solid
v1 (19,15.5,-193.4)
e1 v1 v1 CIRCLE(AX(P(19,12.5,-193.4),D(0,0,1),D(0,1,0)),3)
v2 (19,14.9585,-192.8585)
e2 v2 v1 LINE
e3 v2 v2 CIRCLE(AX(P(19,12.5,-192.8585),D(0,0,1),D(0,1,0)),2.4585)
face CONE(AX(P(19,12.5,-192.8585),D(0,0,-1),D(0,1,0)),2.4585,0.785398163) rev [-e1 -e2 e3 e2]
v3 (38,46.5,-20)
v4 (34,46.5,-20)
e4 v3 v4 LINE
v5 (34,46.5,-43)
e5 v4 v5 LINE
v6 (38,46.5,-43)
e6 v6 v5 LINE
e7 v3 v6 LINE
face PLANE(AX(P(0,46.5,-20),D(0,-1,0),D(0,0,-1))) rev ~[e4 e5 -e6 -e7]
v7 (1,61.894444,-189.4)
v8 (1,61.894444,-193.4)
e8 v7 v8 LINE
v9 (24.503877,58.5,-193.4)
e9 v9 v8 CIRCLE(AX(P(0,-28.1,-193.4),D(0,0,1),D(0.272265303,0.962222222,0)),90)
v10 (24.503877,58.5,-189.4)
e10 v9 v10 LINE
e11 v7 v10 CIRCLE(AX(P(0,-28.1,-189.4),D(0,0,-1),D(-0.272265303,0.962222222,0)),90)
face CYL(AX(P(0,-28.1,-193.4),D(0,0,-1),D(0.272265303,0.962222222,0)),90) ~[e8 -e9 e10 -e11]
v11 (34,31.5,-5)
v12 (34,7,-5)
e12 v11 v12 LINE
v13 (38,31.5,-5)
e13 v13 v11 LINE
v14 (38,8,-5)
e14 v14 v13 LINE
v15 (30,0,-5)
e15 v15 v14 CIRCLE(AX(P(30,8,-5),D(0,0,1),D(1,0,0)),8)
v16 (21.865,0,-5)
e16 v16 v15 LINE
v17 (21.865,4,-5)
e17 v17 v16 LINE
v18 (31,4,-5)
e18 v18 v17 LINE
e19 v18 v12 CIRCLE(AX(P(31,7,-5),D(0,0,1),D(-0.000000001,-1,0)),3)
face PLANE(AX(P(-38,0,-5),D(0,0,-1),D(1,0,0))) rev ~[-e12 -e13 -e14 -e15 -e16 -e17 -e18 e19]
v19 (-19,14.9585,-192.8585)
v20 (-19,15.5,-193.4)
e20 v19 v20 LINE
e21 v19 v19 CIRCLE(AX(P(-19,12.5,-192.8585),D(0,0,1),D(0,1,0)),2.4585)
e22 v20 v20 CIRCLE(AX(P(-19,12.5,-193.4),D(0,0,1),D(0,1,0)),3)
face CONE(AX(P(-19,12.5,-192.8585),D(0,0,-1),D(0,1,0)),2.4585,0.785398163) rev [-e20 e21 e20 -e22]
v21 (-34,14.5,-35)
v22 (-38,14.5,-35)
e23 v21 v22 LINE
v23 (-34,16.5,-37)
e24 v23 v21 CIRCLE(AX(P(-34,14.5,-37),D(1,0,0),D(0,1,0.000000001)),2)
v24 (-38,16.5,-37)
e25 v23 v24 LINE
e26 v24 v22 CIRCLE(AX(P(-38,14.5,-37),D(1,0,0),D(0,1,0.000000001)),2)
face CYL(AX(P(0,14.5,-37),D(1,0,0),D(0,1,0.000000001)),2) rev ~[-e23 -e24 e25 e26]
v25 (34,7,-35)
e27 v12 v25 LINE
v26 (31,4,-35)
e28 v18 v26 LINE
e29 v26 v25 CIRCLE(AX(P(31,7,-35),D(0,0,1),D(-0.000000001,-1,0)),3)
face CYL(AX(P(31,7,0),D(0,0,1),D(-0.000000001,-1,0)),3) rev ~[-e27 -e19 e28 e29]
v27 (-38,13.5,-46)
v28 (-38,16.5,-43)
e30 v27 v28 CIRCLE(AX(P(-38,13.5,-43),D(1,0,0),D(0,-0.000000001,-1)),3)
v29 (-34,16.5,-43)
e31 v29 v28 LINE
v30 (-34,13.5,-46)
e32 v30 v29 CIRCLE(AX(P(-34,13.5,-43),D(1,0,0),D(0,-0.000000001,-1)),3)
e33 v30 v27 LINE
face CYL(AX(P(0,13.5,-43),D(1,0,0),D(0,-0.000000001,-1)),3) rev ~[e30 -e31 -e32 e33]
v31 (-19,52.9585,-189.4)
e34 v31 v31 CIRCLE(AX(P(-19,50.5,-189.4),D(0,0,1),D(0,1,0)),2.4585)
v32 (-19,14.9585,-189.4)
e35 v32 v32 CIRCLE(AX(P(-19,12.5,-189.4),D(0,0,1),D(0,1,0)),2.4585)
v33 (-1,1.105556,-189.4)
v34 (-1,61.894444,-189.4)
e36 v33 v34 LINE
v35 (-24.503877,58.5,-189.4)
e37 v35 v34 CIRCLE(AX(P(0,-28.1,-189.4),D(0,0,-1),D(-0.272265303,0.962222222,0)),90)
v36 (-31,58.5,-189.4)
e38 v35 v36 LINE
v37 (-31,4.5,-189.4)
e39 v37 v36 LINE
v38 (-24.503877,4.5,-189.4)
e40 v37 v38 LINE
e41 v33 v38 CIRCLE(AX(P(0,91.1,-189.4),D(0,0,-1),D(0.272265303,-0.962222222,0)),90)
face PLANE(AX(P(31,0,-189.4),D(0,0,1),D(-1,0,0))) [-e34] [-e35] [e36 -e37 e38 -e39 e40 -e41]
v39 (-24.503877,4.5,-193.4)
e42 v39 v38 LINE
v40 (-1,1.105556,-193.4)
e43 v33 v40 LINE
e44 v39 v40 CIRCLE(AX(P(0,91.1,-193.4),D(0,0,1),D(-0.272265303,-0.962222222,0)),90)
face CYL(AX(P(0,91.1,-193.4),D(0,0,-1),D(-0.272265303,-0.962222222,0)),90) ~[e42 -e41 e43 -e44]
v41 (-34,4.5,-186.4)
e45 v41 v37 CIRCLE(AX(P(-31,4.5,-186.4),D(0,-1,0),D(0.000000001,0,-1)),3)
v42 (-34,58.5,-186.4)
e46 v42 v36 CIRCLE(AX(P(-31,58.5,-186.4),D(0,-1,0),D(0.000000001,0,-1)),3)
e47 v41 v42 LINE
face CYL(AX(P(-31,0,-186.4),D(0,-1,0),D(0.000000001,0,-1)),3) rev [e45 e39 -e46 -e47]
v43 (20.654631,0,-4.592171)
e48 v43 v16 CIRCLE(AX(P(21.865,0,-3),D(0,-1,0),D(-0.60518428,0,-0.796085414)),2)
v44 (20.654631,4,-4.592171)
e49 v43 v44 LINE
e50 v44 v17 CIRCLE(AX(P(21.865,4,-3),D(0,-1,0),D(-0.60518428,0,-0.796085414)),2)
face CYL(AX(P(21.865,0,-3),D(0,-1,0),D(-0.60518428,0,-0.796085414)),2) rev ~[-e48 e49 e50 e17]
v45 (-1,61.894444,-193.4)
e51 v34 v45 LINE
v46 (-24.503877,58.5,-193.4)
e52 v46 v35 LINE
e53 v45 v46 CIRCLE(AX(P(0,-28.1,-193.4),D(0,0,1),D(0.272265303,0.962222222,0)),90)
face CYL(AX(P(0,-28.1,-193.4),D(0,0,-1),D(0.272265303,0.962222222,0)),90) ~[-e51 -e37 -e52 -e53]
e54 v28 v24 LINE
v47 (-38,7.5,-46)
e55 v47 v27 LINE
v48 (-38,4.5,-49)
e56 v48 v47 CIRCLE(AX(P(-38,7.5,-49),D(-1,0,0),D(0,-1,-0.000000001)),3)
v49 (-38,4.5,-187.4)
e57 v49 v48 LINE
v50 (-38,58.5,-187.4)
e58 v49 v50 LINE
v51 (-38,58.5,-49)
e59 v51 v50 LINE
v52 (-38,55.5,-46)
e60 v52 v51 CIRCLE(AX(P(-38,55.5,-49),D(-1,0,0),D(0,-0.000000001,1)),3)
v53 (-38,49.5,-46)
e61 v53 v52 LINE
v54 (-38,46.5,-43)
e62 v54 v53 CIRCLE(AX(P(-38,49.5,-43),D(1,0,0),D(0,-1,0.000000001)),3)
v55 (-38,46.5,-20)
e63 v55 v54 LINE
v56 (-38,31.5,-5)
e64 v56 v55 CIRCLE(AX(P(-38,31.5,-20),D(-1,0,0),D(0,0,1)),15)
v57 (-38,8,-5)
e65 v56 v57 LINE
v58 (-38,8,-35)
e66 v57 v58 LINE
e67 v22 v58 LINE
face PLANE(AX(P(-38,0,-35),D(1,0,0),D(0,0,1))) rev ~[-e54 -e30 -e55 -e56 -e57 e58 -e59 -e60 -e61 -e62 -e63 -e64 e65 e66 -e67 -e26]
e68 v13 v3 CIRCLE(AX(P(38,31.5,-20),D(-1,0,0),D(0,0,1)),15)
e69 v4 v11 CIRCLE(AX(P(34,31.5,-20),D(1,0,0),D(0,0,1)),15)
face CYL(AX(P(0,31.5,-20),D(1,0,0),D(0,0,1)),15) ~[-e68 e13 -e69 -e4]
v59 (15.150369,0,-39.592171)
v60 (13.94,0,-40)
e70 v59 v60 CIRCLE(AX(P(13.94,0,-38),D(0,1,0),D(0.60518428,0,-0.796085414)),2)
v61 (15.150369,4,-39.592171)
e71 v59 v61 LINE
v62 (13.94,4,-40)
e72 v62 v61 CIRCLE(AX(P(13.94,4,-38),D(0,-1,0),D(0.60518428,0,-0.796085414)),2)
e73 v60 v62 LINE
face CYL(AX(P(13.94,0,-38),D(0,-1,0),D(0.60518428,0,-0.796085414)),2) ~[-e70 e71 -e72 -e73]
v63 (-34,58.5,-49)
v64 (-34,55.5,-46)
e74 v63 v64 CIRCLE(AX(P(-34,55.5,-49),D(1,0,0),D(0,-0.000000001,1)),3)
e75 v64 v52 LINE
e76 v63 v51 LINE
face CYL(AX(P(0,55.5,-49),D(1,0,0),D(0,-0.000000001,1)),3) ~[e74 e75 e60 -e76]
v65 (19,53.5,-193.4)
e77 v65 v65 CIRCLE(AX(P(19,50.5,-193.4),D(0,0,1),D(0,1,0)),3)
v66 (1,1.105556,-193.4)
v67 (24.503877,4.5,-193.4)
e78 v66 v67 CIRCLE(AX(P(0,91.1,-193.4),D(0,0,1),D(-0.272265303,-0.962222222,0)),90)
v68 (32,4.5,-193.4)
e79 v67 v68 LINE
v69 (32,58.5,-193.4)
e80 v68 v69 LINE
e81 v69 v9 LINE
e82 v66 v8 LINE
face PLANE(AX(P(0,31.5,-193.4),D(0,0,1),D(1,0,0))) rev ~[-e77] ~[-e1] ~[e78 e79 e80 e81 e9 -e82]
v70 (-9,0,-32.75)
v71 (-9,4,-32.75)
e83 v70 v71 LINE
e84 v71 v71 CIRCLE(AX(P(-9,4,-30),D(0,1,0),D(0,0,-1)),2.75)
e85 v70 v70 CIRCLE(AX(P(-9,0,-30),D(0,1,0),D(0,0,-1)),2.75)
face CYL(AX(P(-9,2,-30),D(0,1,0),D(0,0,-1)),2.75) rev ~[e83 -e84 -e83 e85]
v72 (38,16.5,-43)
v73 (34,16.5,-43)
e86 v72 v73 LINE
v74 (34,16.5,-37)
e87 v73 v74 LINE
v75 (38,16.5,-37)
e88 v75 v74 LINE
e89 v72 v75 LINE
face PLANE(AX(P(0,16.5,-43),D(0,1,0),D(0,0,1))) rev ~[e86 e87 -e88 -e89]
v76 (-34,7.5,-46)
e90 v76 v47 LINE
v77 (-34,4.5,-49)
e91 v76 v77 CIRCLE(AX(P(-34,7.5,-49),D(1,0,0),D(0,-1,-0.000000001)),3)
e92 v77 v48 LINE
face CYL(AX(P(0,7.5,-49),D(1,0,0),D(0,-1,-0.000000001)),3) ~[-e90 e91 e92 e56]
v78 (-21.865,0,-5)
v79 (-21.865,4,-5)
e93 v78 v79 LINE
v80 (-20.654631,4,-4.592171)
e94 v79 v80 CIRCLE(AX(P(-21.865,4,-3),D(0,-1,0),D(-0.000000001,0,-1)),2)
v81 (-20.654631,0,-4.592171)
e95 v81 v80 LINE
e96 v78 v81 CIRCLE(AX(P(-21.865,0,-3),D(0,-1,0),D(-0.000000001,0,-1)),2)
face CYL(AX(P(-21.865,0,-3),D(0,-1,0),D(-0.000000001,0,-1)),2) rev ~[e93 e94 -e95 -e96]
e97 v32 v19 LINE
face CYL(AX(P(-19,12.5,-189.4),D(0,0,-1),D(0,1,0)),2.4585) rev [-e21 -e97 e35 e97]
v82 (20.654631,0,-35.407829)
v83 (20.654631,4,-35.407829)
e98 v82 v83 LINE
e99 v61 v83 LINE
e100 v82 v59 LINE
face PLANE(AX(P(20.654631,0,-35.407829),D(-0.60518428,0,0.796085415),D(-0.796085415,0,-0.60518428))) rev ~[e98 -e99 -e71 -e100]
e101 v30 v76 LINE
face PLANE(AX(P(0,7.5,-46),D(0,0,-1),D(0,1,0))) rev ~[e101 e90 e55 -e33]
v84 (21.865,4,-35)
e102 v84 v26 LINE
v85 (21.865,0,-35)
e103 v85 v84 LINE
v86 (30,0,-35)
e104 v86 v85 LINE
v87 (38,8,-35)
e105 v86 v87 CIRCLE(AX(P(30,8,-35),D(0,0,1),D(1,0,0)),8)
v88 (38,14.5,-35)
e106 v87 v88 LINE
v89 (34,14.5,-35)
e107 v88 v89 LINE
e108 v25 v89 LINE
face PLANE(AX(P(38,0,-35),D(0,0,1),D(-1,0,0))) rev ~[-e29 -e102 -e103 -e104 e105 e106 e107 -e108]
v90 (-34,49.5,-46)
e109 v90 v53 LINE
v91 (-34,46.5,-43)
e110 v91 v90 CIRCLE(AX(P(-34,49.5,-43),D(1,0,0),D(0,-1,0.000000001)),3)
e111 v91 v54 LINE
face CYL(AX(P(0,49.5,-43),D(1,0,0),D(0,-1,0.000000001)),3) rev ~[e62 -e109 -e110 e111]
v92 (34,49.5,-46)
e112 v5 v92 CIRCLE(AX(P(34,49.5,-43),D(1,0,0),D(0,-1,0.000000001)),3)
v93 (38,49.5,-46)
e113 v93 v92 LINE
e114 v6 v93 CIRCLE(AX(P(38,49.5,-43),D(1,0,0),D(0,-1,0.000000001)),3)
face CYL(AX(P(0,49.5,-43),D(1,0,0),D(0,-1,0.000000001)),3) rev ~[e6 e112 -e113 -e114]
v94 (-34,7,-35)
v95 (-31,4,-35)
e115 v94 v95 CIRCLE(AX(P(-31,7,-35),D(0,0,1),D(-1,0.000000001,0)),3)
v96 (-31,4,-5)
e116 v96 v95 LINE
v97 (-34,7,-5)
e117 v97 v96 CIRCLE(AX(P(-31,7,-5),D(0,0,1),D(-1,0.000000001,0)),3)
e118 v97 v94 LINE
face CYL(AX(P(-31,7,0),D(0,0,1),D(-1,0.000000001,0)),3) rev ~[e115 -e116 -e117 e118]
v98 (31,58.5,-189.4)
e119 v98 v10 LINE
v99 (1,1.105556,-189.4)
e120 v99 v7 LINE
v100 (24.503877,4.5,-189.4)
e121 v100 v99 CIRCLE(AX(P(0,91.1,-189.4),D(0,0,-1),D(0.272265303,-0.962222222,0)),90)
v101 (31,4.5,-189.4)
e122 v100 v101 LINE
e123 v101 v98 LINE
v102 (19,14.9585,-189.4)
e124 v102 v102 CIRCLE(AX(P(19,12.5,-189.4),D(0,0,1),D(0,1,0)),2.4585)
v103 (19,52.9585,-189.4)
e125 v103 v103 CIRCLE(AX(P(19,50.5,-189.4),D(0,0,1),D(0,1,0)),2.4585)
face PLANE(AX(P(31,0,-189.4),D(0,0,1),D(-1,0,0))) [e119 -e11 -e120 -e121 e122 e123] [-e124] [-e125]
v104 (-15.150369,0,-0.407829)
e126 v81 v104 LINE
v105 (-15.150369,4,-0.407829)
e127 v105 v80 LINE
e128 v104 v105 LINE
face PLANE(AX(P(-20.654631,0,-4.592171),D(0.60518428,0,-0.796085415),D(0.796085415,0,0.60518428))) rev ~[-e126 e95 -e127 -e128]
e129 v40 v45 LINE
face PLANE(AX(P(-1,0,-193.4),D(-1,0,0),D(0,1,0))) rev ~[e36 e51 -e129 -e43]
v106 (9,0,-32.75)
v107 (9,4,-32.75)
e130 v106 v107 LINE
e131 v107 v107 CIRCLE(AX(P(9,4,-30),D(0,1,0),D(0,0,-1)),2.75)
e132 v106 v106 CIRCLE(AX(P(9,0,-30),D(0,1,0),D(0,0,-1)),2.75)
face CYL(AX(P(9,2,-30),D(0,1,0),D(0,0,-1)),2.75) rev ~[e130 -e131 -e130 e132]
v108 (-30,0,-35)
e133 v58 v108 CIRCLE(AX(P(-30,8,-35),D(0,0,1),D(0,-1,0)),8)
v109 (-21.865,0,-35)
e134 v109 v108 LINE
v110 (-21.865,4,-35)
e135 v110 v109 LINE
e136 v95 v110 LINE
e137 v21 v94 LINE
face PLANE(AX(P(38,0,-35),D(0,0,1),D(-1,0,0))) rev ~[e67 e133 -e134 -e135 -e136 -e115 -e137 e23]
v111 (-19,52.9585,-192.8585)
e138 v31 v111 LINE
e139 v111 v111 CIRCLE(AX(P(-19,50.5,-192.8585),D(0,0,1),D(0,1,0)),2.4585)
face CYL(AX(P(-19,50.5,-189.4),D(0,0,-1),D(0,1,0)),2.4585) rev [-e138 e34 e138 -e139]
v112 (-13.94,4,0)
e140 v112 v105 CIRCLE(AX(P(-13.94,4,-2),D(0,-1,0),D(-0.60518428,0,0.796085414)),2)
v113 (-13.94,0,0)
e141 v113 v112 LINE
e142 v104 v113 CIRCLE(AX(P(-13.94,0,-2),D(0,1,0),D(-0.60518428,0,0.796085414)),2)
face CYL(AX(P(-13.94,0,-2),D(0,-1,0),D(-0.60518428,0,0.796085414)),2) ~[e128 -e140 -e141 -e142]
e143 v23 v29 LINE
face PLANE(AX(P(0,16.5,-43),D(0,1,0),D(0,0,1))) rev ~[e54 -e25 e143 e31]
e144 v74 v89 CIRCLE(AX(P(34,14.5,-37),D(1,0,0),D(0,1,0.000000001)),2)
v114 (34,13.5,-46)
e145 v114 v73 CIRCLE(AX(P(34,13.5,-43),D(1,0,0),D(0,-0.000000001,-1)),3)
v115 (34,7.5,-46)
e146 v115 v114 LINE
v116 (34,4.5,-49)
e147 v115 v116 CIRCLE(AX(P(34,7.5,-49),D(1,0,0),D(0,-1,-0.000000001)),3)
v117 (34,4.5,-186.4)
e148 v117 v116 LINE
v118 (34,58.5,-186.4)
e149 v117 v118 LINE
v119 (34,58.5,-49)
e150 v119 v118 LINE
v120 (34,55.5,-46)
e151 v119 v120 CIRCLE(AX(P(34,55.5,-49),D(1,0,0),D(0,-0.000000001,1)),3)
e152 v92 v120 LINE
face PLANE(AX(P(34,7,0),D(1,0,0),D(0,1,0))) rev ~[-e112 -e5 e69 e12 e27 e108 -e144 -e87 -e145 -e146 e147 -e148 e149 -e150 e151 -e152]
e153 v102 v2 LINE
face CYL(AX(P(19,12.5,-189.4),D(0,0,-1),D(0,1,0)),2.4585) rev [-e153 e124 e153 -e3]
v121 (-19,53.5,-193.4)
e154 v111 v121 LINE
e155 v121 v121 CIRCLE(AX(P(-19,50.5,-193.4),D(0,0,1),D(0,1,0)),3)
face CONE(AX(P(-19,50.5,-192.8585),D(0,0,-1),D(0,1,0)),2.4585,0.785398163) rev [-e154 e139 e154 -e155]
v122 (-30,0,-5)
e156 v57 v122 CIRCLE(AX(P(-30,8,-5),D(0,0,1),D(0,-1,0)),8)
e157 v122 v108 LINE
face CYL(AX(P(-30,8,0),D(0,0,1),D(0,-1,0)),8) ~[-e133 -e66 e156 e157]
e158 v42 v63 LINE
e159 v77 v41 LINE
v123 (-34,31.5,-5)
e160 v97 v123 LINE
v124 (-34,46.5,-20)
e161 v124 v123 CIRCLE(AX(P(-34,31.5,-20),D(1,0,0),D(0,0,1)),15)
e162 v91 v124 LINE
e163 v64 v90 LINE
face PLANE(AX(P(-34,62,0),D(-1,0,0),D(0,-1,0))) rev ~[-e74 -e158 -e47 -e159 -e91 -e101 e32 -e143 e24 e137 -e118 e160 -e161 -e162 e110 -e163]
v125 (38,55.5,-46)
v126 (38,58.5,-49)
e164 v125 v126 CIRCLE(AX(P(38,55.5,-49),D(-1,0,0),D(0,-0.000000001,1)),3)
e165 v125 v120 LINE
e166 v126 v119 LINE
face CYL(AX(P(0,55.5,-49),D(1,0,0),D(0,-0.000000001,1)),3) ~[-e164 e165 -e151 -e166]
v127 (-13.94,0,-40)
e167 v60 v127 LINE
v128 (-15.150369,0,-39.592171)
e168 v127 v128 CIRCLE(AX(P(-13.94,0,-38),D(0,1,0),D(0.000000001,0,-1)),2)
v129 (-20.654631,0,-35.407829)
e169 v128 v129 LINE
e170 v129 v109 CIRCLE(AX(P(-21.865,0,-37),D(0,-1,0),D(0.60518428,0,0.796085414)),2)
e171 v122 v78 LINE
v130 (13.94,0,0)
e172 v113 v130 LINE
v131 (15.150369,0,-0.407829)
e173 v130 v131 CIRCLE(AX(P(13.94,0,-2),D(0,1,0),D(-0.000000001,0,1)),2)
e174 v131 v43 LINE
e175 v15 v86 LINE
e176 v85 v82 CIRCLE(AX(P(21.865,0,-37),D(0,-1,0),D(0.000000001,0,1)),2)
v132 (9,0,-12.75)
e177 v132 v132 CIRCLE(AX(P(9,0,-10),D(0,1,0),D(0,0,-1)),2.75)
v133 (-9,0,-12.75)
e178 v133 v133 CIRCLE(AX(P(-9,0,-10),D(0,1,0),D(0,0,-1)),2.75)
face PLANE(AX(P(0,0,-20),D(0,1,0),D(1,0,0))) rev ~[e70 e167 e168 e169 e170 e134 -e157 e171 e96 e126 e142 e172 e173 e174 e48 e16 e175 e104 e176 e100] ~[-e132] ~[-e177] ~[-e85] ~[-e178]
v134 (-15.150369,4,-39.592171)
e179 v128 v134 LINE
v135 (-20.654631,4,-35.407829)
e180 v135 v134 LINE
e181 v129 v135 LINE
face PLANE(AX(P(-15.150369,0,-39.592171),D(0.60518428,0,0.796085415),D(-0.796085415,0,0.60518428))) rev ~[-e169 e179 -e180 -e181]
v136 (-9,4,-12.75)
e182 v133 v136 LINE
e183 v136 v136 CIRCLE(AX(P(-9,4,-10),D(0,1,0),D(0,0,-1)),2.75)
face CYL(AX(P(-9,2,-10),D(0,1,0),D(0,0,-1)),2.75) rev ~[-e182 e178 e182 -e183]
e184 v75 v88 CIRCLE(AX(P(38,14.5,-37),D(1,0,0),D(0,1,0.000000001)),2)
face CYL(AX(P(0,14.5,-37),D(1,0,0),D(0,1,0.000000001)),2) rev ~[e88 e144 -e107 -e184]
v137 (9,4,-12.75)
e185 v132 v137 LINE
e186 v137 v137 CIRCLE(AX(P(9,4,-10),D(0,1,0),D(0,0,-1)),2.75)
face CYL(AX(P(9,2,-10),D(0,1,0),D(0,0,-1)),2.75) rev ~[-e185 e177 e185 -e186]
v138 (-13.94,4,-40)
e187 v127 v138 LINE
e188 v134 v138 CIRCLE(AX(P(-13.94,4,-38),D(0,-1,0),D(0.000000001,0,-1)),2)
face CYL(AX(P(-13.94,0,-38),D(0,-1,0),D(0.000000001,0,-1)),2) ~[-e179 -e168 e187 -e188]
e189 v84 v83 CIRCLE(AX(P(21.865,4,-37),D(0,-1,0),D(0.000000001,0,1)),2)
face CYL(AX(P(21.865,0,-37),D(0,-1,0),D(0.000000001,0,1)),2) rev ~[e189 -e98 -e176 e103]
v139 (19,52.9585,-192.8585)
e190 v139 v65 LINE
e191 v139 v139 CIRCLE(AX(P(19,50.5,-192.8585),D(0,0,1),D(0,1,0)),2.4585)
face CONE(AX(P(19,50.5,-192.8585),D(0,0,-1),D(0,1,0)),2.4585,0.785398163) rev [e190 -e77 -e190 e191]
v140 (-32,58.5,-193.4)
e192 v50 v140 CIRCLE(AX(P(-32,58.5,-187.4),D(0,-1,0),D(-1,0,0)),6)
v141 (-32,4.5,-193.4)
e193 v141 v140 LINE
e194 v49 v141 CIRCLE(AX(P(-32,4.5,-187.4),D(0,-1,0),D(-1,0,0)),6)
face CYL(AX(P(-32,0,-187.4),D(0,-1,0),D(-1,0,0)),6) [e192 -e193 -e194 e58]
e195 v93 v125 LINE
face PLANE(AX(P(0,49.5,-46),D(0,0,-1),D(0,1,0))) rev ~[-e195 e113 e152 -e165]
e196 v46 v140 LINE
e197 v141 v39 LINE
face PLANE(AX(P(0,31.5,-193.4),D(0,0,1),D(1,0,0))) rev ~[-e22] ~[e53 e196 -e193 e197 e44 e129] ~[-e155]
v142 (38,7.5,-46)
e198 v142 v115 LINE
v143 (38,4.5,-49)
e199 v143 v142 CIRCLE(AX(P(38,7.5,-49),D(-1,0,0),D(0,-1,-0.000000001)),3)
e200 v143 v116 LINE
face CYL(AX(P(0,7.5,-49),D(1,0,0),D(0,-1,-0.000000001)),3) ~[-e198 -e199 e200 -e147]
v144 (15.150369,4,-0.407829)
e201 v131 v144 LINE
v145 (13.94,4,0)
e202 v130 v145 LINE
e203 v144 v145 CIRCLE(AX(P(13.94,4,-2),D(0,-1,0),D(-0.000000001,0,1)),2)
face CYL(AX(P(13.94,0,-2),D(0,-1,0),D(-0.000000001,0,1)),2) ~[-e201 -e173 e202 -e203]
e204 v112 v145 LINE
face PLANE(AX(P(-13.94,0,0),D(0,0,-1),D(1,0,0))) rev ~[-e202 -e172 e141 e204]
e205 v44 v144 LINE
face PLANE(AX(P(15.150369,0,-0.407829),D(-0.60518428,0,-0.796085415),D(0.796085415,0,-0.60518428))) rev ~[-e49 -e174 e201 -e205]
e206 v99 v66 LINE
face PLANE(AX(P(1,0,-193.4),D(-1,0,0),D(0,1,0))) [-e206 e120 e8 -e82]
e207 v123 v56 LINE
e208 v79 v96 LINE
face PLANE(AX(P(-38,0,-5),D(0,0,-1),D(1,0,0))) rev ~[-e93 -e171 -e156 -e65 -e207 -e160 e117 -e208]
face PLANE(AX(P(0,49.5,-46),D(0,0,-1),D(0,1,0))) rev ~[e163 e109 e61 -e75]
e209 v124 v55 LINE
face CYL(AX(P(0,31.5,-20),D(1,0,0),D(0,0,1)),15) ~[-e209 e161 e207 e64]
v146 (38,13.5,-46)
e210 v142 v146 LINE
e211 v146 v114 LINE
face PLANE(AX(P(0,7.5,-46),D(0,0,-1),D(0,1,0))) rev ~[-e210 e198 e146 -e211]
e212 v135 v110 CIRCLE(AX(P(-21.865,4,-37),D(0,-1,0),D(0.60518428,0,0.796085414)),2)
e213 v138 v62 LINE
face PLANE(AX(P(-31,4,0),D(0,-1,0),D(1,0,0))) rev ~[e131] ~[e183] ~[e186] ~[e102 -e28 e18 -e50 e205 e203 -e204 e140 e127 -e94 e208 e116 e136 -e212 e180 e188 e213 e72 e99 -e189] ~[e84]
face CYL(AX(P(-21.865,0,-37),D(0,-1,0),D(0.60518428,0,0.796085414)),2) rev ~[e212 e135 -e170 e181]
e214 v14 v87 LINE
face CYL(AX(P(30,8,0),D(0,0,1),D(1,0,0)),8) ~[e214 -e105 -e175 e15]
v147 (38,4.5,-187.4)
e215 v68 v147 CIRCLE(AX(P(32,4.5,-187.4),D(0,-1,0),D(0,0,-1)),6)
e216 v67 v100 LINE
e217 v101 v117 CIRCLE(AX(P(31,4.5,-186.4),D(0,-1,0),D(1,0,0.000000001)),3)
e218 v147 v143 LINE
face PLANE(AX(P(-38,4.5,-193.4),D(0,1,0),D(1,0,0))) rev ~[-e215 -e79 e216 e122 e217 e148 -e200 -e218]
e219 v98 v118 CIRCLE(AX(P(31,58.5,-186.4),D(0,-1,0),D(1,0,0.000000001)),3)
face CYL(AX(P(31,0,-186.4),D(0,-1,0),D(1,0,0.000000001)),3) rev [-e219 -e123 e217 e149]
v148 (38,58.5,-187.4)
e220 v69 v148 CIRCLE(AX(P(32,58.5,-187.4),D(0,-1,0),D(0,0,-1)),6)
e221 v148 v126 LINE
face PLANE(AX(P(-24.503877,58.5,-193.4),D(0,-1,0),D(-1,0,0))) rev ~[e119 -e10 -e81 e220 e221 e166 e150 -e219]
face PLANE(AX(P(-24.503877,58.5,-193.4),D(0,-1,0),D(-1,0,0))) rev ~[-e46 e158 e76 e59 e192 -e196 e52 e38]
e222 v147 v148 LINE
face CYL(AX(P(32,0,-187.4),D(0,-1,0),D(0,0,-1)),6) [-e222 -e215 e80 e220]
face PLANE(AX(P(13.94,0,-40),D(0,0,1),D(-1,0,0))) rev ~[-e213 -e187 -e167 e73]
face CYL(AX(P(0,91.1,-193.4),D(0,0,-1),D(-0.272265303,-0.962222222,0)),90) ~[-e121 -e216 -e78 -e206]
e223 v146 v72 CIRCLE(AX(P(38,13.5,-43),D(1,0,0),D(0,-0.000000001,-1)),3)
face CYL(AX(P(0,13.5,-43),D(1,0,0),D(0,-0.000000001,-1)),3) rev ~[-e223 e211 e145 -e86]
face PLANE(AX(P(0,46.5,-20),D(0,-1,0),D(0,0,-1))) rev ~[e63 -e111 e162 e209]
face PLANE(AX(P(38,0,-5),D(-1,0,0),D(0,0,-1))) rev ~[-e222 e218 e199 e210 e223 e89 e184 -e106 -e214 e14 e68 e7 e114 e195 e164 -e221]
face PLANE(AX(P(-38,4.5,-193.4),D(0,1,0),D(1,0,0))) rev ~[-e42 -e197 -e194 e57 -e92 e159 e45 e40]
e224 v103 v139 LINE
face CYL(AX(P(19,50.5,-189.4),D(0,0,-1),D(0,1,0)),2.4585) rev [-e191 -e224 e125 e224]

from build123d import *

# Parameters (mm, degrees)
BOSS_EXTRUDE1_DEPTH     = 193.4
CUT_EXTRUDE1_DEPTH      = 38
CUT_EXTRUDE1_DEPTH_BACK = 38
BOSS_EXTRUDE2_DEPTH     = 4.5
CUT_EXTRUDE2_DEPTH      = 40
CUT_EXTRUDE3_DEPTH      = 42
CUT_EXTRUDE4_DEPTH      = 81.5
CUT_EXTRUDE5_DEPTH      = 81.5
SKETCH8_W               = 2
SKETCH8_H               = 108
CUT_EXTRUDE6_DEPTH      = 4
SKETCH9_W               = 2.75
SKETCH9_H               = 4
LPATTERN1_COUNT         = 2
LPATTERN1_PITCH         = 20
LPATTERN1_COUNT_DIR2    = 2
LPATTERN1_PITCH_DIR2    = 18
LPATTERN2_COUNT         = 2
LPATTERN2_PITCH         = 38
LPATTERN2_COUNT_DIR2    = 2
LPATTERN2_PITCH_DIR2    = 38


with BuildPart() as part:
    # Sketch1 → Boss-Extrude1 (new body)
    with BuildSketch(Plane.XY.offset(-193.4)):
        with BuildLine():
            Line((-38, 58.5), (-38, 4.5))
            Line((-38, 4.5), (-24.503877244, 4.5))
            ThreePointArc((-24.503877244, 4.5), (0, 1.1), (24.503877244, 4.5))
            Line((24.503877244, 4.5), (38, 4.5))
            Line((38, 4.5), (38, 58.5))
            Line((38, 58.5), (24.503877244, 58.5))
            ThreePointArc((24.503877244, 58.5), (0, 61.9), (-24.503877244, 58.5))
            Line((-24.503877244, 58.5), (-38, 58.5))
        make_face()
    extrude(amount=BOSS_EXTRUDE1_DEPTH)

    # Sketch2 → Cut-Extrude1 (cut, two sides: drawn at the far end of the back side and taken through both)
    with BuildSketch(Plane(origin=(0, 0, 0), x_dir=(0, 0, -1), z_dir=(1, 0, 0)).offset(-CUT_EXTRUDE1_DEPTH_BACK)):
        with BuildLine():
            Line((0, -5), (189.4, -5))
            Line((189.4, -5), (189.4, 4.5))
            Line((189.4, 4.5), (49, 4.5))
            ThreePointArc((49, 4.5), (46.878679656, 5.378679656), (46, 7.5))
            Line((46, 7.5), (46, 13.5))
            ThreePointArc((46, 13.5), (45.121320344, 15.621320344), (43, 16.5))
            Line((43, 16.5), (37, 16.5))
            ThreePointArc((37, 16.5), (35.585786438, 15.914213562), (35, 14.5))
            Line((35, 14.5), (35, 0))
            Line((35, 0), (5, 0))
            Line((5, 0), (5, 31.5))
            ThreePointArc((5, 31.5), (9.393398282, 42.106601718), (20, 46.5))
            Line((20, 46.5), (43, 46.5))
            ThreePointArc((43, 46.5), (45.121320344, 47.378679656), (46, 49.5))
            Line((46, 49.5), (46, 55.5))
            ThreePointArc((46, 55.5), (46.878679656, 57.621320344), (49, 58.5))
            Line((49, 58.5), (189.4, 58.5))
            Line((189.4, 58.5), (189.4, 63.5))
            Line((189.4, 63.5), (0, 63.5))
            Line((0, 63.5), (0, -5))
        make_face()
    extrude(amount=CUT_EXTRUDE1_DEPTH + CUT_EXTRUDE1_DEPTH_BACK, mode=Mode.SUBTRACT)

    # Sketch3 → Boss-Extrude2 (add)
    with BuildSketch(Plane(origin=(0, 0, 0), x_dir=(1, 0, 0), z_dir=(0, 1, 0))):
        with BuildLine():
            Line((-38, 5), (-21.865, 5))
            ThreePointArc((-21.865, 5), (-21.226384959, 4.895302306), (-20.654631441, 4.59217083))
            Line((-20.654631441, 4.59217083), (-15.150368559, 0.40782917))
            ThreePointArc((-15.150368559, 0.40782917), (-14.578615041, 0.104697694), (-13.94, 0))
            Line((-13.94, 0), (13.94, 0))
            ThreePointArc((13.94, 0), (14.578615041, 0.104697694), (15.150368559, 0.40782917))
            Line((15.150368559, 0.40782917), (20.654631441, 4.59217083))
            ThreePointArc((20.654631441, 4.59217083), (21.226384959, 4.895302306), (21.865, 5))
            Line((21.865, 5), (38, 5))
            Line((38, 5), (38, 35))
            Line((38, 35), (21.865, 35))
            ThreePointArc((21.865, 35), (21.226384959, 35.104697694), (20.654631441, 35.40782917))
            Line((20.654631441, 35.40782917), (15.150368559, 39.59217083))
            ThreePointArc((15.150368559, 39.59217083), (14.578615041, 39.895302306), (13.94, 40))
            Line((13.94, 40), (-13.94, 40))
            ThreePointArc((-13.94, 40), (-14.578615041, 39.895302306), (-15.150368559, 39.59217083))
            Line((-15.150368559, 39.59217083), (-20.654631441, 35.40782917))
            ThreePointArc((-20.654631441, 35.40782917), (-21.226384959, 35.104697694), (-21.865, 35))
            Line((-21.865, 35), (-38, 35))
            Line((-38, 35), (-38, 5))
        make_face()
    extrude(amount=BOSS_EXTRUDE2_DEPTH)

    # Sketch4 → Cut-Extrude2 (cut)
    with BuildSketch(Plane.XY):
        with BuildLine():
            Line((-38, -5), (38, -5))
            Line((38, -5), (38, 8))
            ThreePointArc((38, 8), (35.656854249, 2.343145751), (30, 0))
            Line((30, 0), (-30, 0))
            ThreePointArc((-30, 0), (-35.656854249, 2.343145751), (-38, 8))
            Line((-38, 8), (-38, -5))
        make_face()
    extrude(amount=-CUT_EXTRUDE2_DEPTH, mode=Mode.SUBTRACT)

    # Sketch5 → Cut-Extrude3 (cut)
    with BuildSketch(Plane.XY):
        with BuildLine():
            Line((-31, 4), (31, 4))
            ThreePointArc((31, 4), (33.121320344, 4.878679656), (34, 7))
            Line((34, 7), (34, 62))
            Line((34, 62), (-34, 62))
            Line((-34, 62), (-34, 7))
            ThreePointArc((-34, 7), (-33.121320344, 4.878679656), (-31, 4))
        make_face()
    extrude(amount=-CUT_EXTRUDE3_DEPTH, mode=Mode.SUBTRACT)

    # Sketch6 → Cut-Extrude4 (cut)
    with BuildSketch(Plane(origin=(0, 0, 0), x_dir=(1, 0, 0), z_dir=(0, 1, 0))):
        with BuildLine():
            Line((-34, 186.4), (-34, 41))
            Line((-34, 41), (34, 41))
            Line((34, 41), (34, 186.4))
            ThreePointArc((34, 186.4), (33.121320344, 188.521320344), (31, 189.4))
            Line((31, 189.4), (-31, 189.4))
            ThreePointArc((-31, 189.4), (-33.121320344, 188.521320344), (-34, 186.4))
        make_face()
    extrude(amount=CUT_EXTRUDE4_DEPTH, mode=Mode.SUBTRACT)

    # Sketch7 → Cut-Extrude5 (cut)
    with BuildSketch(Plane(origin=(0, 0, 0), x_dir=(1, 0, 0), z_dir=(0, 1, 0))):
        with BuildLine():
            Line((-32, 193.4), (32, 193.4))
            ThreePointArc((32, 193.4), (36.242640687, 191.642640687), (38, 187.4))
            Line((38, 187.4), (38, 198.4))
            Line((38, 198.4), (-38, 198.4))
            Line((-38, 198.4), (-38, 187.4))
            ThreePointArc((-38, 187.4), (-36.242640687, 191.642640687), (-32, 193.4))
        make_face()
    extrude(amount=CUT_EXTRUDE5_DEPTH, mode=Mode.SUBTRACT)

    # Sketch8 → Cut-Extrude6 (cut)
    with BuildSketch(Plane.XY.offset(-193.4)):
        with Locations((0, 54)):
            Rectangle(SKETCH8_W, SKETCH8_H)
    extrude(amount=CUT_EXTRUDE6_DEPTH, mode=Mode.SUBTRACT)

    # Sketch9 → Cut-Revolve1 (revolve, cut)
    with BuildSketch(Plane(origin=(9, 0, 0), x_dir=(0, 0, -1), z_dir=(1, 0, 0))):
        with Locations((11.375, 2)):
            Rectangle(SKETCH9_W, SKETCH9_H)
    cut_revolve1 = revolve(axis=Axis((9, 0, -10), (0, 1, 0)), mode=Mode.SUBTRACT)

    # LPattern1: Cut-Revolve1 2 × 2
    with Locations(*[(-j * LPATTERN1_PITCH_DIR2, 0, -i * LPATTERN1_PITCH) for i in range(LPATTERN1_COUNT) for j in range(LPATTERN1_COUNT_DIR2) if (i, j) != (0, 0)]):
        add(cut_revolve1, mode=Mode.SUBTRACT)

    # Sketch11 → Cut-Revolve2 (revolve, cut)
    with BuildSketch(Plane(origin=(19, 0, 0), x_dir=(0, 0, -1), z_dir=(1, 0, 0))):
        Polygon((189.4, 12.5), (189.4, 14.9585), (192.8585, 14.9585), (193.4, 15.5), (193.4, 12.5), align=None)
    cut_revolve2 = revolve(axis=Axis((19, 12.5, -193.4), (0, 0, 1)), mode=Mode.SUBTRACT)

    # LPattern2: Cut-Revolve2 2 × 2
    with Locations(*[(-j * LPATTERN2_PITCH_DIR2, i * LPATTERN2_PITCH, 0) for i in range(LPATTERN2_COUNT) for j in range(LPATTERN2_COUNT_DIR2) if (i, j) != (0, 0)]):
        add(cut_revolve2, mode=Mode.SUBTRACT)


solid = part.part
